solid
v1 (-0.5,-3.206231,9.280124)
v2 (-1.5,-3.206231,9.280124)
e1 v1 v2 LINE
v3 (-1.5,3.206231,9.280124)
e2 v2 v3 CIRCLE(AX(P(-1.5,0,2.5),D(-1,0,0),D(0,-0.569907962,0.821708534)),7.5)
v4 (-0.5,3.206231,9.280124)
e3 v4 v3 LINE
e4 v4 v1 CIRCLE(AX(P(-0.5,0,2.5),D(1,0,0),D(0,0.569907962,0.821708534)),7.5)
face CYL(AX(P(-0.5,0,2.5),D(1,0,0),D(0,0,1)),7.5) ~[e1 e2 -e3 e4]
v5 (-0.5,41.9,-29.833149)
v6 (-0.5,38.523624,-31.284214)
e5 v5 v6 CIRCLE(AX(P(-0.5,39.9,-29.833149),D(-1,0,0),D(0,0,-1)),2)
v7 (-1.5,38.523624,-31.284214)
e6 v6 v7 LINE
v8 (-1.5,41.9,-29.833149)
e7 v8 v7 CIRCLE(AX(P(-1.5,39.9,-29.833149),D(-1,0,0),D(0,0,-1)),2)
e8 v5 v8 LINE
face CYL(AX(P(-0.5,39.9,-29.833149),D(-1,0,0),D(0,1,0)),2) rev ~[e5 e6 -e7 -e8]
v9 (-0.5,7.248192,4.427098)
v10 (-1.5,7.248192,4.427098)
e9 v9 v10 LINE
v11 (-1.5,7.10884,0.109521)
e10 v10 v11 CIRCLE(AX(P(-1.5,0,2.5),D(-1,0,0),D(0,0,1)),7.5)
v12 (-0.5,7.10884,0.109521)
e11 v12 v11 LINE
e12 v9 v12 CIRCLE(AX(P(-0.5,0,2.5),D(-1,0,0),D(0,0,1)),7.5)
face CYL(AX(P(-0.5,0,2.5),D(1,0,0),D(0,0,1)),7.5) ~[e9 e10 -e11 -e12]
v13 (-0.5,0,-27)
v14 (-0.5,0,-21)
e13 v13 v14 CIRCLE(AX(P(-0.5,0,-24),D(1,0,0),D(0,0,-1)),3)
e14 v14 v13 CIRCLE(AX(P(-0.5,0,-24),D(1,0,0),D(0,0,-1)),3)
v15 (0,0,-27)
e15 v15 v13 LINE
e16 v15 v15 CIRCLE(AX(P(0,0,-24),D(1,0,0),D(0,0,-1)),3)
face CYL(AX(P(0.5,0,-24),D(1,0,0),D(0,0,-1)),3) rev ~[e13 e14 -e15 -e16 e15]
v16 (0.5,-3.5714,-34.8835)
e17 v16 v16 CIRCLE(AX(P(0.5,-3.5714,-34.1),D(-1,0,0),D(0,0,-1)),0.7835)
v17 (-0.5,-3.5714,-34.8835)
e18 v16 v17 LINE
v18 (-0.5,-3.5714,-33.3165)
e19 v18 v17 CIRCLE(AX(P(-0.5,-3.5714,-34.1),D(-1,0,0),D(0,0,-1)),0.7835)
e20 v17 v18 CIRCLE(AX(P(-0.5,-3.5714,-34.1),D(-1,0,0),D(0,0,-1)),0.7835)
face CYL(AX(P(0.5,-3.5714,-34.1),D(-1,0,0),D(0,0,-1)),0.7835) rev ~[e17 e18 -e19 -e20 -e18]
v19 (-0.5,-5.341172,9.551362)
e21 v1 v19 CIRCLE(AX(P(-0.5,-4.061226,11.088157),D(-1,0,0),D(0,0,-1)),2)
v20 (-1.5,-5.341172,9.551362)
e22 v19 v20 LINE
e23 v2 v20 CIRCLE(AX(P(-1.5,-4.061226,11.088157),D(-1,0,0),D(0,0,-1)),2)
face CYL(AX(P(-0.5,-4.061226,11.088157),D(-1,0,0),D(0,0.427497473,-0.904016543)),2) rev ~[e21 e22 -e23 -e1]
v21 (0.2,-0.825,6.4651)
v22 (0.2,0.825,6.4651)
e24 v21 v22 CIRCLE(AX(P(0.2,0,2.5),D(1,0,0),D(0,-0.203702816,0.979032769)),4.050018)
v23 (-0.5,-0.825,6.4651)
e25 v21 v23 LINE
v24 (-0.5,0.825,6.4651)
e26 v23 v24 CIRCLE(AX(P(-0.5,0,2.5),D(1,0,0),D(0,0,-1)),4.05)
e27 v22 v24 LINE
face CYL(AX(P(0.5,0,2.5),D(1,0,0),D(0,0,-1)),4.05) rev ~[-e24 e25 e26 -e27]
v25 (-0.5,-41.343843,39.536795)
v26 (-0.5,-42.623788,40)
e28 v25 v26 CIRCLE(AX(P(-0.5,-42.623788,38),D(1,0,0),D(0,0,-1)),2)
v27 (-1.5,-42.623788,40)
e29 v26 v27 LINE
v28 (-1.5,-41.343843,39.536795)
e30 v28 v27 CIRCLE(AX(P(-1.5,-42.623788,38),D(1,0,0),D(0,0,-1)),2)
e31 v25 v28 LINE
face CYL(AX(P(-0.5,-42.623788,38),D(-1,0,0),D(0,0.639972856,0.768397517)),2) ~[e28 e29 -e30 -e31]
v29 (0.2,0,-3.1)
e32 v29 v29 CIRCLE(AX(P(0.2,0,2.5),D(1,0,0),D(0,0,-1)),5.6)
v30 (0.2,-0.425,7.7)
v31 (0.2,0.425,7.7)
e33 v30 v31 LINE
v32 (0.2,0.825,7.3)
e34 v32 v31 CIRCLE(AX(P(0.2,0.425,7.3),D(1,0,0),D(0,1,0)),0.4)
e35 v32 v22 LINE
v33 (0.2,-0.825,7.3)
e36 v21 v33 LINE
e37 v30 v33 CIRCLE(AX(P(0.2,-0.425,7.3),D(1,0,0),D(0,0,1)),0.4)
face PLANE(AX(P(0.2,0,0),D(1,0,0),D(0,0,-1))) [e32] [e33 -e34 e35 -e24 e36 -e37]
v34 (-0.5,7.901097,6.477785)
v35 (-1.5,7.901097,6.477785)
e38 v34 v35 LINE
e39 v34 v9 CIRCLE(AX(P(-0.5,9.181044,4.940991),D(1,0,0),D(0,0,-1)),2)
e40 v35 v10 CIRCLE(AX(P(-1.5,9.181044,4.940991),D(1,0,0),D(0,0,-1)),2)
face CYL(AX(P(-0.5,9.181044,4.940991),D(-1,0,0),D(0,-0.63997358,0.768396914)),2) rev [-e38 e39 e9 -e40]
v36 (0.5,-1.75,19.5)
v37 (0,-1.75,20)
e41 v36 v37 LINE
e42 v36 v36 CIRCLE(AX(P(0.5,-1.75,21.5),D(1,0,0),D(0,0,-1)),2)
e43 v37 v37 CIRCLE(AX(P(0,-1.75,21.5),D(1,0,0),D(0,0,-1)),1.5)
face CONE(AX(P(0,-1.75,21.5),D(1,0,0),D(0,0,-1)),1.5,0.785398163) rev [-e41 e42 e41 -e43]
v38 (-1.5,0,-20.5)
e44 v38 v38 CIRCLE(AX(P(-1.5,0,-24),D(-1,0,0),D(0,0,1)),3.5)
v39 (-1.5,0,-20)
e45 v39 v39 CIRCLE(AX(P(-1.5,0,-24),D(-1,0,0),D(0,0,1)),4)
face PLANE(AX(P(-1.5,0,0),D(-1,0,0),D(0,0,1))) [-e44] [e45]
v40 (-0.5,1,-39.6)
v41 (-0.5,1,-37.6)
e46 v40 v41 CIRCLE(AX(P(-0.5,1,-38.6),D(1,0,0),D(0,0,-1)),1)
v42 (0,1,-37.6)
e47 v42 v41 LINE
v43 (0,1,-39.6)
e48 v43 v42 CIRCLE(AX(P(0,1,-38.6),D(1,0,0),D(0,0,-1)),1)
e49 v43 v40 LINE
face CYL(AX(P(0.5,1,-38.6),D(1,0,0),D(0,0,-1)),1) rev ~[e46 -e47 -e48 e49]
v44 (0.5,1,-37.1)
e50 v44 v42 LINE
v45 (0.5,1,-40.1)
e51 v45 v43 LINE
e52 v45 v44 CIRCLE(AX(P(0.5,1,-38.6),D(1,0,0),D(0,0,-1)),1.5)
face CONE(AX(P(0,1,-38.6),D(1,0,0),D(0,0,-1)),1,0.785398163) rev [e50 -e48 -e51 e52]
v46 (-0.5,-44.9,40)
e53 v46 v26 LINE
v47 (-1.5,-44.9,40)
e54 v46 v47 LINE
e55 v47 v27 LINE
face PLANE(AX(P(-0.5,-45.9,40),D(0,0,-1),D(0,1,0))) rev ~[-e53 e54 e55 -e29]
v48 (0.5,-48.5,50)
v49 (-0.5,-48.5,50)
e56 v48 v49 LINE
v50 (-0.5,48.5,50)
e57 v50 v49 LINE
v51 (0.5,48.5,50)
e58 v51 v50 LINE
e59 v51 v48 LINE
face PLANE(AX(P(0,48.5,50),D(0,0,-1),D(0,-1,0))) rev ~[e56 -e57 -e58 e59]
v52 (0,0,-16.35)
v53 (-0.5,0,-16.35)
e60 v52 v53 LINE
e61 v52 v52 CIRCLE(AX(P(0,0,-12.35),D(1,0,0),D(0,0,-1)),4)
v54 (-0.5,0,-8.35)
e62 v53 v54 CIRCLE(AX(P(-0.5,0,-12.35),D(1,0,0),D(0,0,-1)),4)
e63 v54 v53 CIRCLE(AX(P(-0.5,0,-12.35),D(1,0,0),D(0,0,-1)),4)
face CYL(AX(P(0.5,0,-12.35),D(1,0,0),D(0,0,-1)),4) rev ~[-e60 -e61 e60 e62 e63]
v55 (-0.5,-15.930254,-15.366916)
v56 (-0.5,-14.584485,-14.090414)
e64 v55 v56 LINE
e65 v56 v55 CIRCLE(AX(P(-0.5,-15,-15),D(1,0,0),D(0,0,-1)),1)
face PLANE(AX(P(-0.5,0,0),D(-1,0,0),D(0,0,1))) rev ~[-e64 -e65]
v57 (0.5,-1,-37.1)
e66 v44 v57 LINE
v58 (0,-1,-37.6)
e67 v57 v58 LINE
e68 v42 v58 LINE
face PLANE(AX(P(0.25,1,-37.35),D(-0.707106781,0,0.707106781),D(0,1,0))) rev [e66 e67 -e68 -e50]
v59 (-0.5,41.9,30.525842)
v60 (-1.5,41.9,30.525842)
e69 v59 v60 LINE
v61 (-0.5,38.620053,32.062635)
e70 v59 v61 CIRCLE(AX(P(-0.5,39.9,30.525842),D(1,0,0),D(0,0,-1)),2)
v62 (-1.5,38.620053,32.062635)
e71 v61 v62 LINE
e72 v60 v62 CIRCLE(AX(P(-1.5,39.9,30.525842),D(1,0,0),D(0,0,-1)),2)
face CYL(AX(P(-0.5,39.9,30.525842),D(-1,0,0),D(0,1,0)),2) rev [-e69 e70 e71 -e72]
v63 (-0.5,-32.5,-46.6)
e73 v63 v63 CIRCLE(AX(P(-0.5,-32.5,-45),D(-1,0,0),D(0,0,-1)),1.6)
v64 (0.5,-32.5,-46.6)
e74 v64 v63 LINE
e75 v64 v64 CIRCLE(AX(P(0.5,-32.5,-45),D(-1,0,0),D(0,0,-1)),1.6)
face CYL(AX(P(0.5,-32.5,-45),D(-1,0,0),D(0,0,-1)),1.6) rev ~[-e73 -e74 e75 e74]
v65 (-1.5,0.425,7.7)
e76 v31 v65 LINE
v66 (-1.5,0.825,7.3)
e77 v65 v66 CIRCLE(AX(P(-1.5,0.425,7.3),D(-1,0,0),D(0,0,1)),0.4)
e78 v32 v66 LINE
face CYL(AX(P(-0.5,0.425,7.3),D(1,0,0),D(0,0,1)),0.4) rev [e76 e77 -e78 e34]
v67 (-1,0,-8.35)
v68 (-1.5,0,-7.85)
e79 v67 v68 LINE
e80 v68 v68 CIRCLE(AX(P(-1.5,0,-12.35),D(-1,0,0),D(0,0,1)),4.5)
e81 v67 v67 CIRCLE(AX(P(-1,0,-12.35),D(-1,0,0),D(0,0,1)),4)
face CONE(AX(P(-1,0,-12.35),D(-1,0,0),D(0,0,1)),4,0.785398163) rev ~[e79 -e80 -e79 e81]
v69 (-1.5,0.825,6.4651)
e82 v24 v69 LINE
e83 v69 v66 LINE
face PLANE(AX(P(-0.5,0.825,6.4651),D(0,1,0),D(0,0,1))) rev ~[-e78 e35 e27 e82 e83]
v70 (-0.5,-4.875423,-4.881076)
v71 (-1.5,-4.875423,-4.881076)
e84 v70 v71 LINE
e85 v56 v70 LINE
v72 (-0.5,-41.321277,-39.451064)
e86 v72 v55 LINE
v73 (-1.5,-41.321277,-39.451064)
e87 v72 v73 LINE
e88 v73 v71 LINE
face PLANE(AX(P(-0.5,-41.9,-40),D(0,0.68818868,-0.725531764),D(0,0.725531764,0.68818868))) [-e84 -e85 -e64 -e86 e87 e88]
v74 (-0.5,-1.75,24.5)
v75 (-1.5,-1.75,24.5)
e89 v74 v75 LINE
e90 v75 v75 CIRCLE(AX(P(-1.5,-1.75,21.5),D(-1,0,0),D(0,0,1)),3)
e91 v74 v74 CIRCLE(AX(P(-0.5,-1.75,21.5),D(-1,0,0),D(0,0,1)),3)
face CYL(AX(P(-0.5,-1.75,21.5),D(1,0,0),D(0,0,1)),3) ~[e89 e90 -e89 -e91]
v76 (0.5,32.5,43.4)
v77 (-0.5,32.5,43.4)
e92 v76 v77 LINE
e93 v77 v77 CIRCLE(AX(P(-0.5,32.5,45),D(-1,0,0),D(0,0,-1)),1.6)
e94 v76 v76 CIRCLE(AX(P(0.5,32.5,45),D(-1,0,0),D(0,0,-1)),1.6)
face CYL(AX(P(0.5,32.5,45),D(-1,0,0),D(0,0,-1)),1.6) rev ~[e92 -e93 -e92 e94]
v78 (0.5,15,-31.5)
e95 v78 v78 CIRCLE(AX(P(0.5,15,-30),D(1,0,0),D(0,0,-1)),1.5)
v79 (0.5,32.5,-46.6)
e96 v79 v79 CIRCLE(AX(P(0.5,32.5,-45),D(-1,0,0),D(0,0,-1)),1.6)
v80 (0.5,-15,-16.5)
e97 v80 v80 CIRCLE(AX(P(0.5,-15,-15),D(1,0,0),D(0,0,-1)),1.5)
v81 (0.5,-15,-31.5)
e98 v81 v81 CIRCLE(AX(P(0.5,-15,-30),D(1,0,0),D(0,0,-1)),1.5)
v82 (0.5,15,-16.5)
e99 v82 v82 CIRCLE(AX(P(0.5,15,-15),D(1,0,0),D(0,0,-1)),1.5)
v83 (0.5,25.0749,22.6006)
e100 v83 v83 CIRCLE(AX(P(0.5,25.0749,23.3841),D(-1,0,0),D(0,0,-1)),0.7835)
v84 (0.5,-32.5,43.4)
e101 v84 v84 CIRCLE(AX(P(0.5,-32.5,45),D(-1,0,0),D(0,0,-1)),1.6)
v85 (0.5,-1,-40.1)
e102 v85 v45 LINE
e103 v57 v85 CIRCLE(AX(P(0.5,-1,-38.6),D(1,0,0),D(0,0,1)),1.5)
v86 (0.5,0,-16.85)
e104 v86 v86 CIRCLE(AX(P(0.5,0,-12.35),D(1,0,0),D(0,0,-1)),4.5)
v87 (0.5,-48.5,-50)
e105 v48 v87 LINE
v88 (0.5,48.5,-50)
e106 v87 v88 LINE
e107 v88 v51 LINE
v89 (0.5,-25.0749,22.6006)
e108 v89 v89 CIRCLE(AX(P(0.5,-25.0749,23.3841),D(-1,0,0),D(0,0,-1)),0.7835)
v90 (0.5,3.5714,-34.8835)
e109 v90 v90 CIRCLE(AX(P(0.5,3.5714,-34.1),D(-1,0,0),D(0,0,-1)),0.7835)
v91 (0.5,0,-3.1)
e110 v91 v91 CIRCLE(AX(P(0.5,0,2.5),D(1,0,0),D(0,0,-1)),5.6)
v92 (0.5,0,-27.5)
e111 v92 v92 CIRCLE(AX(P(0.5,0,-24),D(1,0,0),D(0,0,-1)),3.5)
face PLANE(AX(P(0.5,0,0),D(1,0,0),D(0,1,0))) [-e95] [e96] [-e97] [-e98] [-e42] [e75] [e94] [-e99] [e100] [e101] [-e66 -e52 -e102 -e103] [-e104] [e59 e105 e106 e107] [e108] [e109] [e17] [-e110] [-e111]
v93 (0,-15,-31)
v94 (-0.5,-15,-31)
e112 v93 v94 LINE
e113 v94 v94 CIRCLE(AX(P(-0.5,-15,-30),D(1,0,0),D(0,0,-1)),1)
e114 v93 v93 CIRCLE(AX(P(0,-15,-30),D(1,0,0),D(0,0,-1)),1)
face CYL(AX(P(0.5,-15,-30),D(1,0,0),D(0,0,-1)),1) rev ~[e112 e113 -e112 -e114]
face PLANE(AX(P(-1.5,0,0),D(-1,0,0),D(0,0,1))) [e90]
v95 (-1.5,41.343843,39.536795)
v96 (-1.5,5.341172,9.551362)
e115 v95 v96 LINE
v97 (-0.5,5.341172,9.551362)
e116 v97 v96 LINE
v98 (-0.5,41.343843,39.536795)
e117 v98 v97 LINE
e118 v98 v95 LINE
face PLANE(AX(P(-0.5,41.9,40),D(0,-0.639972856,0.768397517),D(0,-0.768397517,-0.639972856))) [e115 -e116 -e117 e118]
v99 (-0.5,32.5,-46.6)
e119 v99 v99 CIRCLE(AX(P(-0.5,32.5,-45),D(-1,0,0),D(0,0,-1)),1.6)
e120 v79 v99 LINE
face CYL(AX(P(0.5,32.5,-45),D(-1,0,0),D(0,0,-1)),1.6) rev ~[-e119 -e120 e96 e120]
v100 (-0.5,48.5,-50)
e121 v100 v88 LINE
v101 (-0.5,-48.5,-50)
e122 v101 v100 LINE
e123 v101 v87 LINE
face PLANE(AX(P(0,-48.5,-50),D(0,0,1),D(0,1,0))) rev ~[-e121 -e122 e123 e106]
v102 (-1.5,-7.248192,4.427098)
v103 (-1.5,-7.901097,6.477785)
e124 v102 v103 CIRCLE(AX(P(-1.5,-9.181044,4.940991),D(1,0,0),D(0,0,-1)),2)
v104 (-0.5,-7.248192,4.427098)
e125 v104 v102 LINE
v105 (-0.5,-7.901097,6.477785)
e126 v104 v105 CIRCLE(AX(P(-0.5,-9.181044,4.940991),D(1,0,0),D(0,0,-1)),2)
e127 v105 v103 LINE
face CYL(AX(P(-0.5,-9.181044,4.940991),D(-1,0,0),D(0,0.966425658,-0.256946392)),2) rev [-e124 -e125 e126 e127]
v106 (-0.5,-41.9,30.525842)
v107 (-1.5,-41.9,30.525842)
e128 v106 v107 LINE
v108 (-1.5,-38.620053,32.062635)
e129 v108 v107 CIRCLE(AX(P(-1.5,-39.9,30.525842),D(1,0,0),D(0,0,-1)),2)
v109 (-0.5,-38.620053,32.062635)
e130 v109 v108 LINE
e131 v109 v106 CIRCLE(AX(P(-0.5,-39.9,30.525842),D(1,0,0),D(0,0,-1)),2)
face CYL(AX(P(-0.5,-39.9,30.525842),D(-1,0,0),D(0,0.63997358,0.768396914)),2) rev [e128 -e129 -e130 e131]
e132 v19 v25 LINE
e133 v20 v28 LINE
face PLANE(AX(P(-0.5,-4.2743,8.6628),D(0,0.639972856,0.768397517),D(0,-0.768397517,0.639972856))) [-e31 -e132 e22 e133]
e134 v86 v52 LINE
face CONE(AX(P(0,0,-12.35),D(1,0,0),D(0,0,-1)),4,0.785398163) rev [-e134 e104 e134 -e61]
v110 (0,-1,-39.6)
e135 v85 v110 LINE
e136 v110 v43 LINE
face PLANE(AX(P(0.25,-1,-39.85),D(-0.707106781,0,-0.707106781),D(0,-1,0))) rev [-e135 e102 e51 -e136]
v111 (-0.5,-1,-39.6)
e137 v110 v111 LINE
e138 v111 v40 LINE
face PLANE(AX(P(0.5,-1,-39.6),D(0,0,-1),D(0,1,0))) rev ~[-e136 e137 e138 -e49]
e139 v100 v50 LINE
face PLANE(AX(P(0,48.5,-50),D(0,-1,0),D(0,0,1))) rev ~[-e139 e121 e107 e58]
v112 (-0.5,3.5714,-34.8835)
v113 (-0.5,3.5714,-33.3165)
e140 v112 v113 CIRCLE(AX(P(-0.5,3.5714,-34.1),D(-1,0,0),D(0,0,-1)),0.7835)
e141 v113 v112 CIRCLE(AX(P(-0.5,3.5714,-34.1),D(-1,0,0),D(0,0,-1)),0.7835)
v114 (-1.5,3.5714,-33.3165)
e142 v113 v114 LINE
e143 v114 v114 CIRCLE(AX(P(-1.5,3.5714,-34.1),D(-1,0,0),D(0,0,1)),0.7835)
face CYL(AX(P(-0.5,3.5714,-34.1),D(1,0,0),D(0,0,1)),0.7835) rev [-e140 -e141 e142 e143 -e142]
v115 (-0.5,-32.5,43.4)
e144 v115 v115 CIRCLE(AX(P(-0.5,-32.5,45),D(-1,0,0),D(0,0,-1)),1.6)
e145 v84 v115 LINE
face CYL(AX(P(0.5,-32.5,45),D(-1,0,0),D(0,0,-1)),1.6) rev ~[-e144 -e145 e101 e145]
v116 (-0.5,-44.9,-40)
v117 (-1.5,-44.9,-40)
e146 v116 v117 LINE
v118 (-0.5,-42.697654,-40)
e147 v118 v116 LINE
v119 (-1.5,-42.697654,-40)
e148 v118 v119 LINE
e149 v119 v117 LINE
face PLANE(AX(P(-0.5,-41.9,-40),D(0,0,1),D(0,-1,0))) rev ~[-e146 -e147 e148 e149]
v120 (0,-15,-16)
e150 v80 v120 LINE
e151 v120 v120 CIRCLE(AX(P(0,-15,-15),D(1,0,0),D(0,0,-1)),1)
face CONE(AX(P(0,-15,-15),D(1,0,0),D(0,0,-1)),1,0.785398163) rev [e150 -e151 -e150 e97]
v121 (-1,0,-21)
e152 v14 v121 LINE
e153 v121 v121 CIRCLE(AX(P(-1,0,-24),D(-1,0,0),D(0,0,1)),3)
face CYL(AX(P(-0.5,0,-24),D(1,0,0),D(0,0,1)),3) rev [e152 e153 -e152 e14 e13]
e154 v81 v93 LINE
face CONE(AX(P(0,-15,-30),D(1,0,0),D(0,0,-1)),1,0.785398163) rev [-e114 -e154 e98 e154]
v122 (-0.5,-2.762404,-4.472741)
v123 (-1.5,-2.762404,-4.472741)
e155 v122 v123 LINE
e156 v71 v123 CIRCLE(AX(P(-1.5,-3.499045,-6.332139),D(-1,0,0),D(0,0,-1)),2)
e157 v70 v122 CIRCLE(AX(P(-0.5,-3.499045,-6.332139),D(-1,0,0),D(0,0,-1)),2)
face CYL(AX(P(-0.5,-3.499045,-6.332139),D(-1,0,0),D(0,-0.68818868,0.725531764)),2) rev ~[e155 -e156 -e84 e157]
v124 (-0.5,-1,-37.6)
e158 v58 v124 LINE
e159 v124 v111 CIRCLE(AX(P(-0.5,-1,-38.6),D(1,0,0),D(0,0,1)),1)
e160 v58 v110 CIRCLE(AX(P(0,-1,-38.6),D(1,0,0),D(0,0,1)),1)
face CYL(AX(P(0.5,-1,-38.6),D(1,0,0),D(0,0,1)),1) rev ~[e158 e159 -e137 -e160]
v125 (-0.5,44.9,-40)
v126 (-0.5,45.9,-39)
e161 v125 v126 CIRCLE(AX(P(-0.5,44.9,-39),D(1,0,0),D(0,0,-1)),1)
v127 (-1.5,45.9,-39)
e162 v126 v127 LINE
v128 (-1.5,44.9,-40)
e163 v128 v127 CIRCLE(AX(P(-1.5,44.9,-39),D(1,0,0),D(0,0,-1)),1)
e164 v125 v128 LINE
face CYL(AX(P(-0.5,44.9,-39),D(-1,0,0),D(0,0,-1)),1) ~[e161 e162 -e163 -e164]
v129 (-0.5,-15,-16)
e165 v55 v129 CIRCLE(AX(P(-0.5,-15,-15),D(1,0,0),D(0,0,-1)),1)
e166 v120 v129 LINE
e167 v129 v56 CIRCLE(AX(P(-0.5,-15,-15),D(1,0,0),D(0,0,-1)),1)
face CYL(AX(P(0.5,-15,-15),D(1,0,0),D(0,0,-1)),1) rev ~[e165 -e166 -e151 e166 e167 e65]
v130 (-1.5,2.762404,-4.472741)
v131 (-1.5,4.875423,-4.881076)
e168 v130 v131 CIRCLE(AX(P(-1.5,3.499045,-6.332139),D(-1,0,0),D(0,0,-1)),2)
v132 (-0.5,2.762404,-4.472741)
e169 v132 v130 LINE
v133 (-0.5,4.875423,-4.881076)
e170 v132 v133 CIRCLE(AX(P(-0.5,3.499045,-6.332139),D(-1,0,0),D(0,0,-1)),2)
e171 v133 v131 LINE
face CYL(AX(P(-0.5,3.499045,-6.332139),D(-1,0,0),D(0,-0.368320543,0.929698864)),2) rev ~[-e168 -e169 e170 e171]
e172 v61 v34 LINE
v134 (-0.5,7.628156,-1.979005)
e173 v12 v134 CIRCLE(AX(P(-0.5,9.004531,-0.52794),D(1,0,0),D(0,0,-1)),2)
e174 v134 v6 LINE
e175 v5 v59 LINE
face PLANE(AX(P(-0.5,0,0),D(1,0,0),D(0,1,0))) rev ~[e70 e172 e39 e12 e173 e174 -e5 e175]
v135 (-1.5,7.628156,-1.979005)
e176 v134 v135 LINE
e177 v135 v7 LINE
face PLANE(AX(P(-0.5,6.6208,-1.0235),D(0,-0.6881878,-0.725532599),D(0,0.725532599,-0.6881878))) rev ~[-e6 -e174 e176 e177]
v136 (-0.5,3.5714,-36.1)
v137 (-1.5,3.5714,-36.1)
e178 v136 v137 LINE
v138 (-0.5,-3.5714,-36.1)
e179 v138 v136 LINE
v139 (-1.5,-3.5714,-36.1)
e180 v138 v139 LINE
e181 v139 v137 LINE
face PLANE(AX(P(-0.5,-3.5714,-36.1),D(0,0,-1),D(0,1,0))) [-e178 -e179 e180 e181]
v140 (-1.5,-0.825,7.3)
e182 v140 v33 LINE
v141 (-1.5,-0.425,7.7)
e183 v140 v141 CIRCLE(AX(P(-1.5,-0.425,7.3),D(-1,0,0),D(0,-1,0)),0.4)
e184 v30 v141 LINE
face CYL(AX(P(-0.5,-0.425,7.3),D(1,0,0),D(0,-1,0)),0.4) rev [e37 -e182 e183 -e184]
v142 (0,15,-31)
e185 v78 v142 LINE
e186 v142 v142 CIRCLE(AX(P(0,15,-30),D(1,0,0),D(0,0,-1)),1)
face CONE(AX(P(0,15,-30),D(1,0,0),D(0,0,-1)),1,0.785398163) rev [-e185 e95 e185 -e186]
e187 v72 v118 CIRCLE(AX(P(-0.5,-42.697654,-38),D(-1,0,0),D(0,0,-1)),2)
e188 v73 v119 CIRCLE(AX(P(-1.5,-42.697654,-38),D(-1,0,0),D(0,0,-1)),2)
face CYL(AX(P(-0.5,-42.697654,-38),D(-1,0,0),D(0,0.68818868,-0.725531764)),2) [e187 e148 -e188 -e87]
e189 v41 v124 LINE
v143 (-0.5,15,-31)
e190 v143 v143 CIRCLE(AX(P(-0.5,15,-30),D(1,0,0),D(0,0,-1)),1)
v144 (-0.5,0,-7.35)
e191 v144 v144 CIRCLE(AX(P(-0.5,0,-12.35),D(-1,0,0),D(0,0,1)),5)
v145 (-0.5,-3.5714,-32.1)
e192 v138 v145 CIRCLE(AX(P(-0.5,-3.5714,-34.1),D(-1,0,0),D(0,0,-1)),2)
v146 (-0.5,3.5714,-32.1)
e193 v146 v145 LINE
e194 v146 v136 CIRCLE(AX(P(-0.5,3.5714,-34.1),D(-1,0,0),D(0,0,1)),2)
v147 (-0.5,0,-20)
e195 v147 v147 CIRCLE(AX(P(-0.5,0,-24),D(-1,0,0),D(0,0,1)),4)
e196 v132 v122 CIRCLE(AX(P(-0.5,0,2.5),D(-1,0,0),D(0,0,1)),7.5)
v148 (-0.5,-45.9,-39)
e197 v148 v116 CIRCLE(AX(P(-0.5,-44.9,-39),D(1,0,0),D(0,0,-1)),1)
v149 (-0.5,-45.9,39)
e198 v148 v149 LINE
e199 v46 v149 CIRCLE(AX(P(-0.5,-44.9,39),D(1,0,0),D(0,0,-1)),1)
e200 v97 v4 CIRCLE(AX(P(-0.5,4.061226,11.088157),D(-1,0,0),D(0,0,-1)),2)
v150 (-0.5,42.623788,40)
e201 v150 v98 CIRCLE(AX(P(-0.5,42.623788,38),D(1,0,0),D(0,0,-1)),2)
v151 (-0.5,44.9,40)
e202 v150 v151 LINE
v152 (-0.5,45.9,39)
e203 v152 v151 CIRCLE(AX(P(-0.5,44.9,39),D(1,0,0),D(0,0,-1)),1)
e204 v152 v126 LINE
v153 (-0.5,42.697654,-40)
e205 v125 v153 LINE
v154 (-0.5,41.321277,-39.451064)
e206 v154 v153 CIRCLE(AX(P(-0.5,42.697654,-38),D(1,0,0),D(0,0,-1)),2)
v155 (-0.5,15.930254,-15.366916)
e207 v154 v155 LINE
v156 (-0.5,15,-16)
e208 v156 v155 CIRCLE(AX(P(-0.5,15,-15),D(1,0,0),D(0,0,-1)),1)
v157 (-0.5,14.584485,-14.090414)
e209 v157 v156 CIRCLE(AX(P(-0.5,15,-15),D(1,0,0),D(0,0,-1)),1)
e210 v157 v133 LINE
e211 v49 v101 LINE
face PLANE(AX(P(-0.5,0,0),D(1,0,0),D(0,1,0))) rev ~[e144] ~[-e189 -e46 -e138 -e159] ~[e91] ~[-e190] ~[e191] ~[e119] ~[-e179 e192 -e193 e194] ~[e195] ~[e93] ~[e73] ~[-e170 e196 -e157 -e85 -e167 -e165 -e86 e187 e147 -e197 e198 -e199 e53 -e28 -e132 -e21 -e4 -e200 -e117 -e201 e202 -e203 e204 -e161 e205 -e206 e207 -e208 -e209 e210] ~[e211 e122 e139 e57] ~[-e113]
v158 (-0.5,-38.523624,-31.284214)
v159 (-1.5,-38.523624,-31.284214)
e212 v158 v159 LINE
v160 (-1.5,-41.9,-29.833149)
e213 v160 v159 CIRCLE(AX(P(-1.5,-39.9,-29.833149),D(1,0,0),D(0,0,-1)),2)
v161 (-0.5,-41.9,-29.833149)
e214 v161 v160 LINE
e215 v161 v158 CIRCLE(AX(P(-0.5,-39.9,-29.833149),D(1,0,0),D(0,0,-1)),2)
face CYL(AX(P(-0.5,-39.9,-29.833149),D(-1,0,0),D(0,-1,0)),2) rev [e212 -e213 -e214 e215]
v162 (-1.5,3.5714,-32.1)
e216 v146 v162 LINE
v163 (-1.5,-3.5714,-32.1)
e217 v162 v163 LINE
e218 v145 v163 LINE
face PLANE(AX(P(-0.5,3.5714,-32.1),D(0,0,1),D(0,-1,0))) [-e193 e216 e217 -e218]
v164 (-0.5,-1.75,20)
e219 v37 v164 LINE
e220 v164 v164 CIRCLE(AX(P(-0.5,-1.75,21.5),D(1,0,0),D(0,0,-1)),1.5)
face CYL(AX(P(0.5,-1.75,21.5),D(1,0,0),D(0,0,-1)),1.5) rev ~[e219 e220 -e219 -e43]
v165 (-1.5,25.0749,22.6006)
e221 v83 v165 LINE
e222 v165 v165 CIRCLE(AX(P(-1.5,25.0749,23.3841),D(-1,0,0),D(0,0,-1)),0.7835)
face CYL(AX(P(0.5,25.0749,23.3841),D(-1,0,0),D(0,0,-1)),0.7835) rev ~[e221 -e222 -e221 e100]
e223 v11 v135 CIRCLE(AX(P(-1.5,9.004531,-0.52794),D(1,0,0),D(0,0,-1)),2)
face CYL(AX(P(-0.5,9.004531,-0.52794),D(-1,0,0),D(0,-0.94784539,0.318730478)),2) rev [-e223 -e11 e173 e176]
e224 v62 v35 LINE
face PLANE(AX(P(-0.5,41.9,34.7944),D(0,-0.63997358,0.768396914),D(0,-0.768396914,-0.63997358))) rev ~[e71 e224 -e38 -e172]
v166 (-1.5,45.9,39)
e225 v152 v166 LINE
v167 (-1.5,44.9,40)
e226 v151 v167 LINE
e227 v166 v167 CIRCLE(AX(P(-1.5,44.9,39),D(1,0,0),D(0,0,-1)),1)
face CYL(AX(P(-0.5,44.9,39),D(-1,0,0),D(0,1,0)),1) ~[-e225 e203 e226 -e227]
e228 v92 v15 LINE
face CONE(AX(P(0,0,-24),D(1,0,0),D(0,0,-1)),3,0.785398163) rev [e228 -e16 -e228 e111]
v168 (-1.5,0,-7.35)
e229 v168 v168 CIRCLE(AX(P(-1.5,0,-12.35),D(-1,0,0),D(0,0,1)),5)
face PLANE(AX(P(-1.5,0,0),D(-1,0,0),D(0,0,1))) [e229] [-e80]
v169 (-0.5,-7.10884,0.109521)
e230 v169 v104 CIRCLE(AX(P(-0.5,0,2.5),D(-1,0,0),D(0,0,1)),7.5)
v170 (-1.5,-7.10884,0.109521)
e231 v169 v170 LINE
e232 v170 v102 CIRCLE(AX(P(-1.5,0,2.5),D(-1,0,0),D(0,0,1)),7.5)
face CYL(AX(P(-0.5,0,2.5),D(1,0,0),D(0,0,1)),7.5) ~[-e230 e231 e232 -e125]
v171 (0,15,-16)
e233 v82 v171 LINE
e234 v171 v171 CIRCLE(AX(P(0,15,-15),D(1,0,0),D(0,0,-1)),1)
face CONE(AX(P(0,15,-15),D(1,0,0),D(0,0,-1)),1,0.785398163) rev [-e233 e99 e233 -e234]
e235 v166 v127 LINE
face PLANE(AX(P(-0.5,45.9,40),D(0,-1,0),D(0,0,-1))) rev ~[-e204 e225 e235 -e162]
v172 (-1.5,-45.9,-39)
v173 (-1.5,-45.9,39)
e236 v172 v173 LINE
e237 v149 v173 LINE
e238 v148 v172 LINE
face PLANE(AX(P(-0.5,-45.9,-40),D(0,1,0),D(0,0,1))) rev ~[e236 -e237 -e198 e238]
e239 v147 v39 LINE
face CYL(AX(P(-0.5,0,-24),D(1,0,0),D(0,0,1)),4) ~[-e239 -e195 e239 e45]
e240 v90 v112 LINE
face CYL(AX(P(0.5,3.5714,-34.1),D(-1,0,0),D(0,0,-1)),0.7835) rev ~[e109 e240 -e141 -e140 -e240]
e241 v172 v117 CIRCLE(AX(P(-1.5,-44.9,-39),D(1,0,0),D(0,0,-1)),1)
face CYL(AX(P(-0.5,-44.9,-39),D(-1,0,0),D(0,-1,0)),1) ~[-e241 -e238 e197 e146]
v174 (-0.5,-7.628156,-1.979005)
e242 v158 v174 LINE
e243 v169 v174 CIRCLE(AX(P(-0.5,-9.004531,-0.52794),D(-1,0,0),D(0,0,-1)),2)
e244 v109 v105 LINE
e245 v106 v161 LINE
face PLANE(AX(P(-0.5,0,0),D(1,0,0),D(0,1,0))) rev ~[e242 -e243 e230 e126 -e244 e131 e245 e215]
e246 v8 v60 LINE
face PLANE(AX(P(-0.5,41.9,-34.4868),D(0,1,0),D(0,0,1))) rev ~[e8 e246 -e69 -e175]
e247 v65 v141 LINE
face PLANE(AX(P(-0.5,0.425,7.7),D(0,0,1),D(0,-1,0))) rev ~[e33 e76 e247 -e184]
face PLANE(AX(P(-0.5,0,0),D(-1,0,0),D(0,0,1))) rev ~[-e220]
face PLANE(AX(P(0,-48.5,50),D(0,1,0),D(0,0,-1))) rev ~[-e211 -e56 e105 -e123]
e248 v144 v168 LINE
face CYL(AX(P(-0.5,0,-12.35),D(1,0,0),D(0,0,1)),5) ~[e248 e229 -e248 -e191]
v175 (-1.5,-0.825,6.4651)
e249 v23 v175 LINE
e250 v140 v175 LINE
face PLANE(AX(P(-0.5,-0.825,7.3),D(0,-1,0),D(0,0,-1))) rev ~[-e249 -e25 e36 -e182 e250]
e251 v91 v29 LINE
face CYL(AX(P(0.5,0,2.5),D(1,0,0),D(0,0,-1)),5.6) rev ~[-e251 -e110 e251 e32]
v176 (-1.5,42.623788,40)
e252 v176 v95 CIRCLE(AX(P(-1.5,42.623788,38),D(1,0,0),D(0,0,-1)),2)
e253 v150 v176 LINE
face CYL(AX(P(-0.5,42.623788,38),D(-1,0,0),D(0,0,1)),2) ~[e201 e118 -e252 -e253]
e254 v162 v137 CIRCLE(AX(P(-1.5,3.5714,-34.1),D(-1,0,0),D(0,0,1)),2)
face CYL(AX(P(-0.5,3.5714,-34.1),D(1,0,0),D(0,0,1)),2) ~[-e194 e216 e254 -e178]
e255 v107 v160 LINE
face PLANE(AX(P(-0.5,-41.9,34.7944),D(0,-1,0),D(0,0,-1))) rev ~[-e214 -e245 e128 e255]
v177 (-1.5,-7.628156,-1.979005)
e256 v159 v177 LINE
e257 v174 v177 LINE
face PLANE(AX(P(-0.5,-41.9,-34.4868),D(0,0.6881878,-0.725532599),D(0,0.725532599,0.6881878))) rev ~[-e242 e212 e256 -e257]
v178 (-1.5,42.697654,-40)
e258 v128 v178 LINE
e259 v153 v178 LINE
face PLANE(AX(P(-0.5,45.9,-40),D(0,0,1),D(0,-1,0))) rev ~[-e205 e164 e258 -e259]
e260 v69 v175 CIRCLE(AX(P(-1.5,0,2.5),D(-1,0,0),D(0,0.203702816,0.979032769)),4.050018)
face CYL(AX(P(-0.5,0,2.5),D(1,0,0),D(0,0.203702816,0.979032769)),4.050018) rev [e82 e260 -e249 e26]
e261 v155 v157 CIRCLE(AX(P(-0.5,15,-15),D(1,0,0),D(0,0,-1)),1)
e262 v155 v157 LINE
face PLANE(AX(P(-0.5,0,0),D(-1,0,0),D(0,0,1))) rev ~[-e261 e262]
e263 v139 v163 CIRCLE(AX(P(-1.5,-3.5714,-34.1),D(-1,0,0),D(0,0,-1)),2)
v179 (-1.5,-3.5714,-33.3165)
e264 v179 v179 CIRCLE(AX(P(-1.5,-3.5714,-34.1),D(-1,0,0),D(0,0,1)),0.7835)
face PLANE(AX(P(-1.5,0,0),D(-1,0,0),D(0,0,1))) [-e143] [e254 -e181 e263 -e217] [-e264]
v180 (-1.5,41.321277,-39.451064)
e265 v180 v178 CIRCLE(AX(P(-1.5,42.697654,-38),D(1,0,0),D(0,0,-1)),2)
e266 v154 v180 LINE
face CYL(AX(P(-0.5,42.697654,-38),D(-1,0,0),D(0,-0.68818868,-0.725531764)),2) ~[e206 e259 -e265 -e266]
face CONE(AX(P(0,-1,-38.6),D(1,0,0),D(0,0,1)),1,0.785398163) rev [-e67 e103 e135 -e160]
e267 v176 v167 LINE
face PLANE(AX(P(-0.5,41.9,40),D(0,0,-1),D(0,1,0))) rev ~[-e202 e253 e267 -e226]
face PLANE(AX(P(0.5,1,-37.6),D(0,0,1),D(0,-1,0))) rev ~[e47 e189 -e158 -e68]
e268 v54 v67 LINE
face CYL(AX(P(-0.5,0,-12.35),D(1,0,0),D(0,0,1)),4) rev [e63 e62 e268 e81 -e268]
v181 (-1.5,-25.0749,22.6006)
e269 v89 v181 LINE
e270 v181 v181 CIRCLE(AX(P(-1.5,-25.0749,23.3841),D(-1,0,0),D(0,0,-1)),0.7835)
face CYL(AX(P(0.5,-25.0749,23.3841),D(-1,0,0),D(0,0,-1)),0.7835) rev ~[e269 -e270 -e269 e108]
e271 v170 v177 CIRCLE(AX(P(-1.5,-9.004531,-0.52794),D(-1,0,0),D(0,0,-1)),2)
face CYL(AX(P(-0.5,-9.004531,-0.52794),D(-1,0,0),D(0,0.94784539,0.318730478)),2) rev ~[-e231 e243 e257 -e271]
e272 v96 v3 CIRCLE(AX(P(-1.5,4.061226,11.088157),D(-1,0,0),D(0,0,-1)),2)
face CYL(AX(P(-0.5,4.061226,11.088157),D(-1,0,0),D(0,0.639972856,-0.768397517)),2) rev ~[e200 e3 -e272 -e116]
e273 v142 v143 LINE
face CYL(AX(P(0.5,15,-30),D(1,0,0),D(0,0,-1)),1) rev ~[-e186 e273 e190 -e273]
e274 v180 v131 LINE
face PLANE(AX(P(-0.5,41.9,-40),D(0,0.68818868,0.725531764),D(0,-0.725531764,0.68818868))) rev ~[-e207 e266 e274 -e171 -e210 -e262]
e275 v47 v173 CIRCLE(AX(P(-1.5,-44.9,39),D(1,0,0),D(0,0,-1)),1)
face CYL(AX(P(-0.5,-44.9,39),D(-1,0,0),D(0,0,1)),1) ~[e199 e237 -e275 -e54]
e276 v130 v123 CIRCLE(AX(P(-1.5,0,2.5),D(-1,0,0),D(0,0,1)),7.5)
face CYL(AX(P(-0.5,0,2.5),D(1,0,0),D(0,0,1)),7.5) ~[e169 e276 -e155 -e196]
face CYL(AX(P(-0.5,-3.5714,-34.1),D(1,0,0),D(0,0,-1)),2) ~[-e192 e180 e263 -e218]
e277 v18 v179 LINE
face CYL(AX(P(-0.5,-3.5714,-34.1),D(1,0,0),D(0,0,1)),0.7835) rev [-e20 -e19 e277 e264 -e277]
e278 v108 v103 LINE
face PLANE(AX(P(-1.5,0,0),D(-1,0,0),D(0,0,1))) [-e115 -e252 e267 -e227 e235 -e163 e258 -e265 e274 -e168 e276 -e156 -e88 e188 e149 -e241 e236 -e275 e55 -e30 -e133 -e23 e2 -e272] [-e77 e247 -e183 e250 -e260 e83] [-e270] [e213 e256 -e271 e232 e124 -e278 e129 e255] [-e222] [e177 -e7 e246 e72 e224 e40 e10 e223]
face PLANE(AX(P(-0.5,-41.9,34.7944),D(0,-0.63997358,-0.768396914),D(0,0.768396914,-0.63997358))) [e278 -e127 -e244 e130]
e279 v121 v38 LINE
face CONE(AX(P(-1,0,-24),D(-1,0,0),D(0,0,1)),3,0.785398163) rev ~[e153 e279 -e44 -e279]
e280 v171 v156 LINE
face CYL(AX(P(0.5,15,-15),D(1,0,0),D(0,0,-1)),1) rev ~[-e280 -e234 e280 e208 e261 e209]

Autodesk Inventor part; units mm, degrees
ref_plane "YZ Plane" through (0, 0, 0) normal (1, 0, 0) x (0, 1, 0)
ref_plane "XZ Plane" through (0, 0, 0) normal (0, 1, 0) x (-1, 0, 0)
ref_plane "XY Plane" through (0, 0, 0) normal (0, 0, 1) x (1, 0, 0)
sketch "Sketch1" plane through (0, 0, 0) normal (1, 0, 0) x (0, 1, 0)
  line L0 (-48.5, -50) -> (48.5, -50)
  line L1 (48.5, -50) -> (48.5, 50)
  line L2 (48.5, 50) -> (-48.5, 50)
  line L3 (-48.5, 50) -> (-48.5, -50)
  line L4 (-48.5, -50) -> (48.5, 50) construction
  line L5 (48.5, -50) -> (-48.5, 50) construction
  point P0 (0, 0)
  dimension "d0" = 97
  dimension "d1" = 100
extrude "Extrusion1" add sketch "Sketch1" along normal mid plane 1
sketch "Sketch2" plane through (0.5, 0, 0) normal (1, 0, 0) x (0, 0, -1)
  line L0 (45, -32.5) -> (-45, -32.5) construction
  line L1 (-45, -32.5) -> (-45, 32.5) construction
  line L2 (-45, 32.5) -> (45, 32.5) construction
  line L3 (45, 32.5) -> (45, -32.5) construction
  line L4 (45, -32.5) -> (-45, 32.5) construction
  line L5 (-45, -32.5) -> (45, 32.5) construction
  point P0 (0, 0)
  dimension "d5" = 90
  dimension "d6" = 65
hole "Hole1" at (0.5, -32.5, 45) at (0.5, 32.5, 45) at (0.5, 32.5, -45) at (0.5, -32.5, -45) direction (-1, 0, 0) diameter 3.2 end through all clearance for "Socket Head Cap Screw" size "M3" standard "Ansi Metric M Profile"
sketch "Sketch3" plane through (0.5, 0, 0) normal (1, 0, 0) x (0, 0, -1)
  circle A0 centre (-2.5, 0) radius 4.05
  line L0 (-6.4651, -0.825) -> (-7.3, -0.825)
  line L1 (-7.7, -0.425) -> (-7.7, 0.425)
  line L2 (-7.3, 0.825) -> (-6.4651, 0.825)
  line L3 (-6.4651, 0.825) -> (-6.4651, -0.825)
  circle A1 centre (12.35, 0) radius 4
  line L4 (-7.5, -0.75) -> (-6.4651, -0.75) construction
  line L5 (-6.4651, -0.75) -> (-6.4651, 0.75) construction
  line L6 (-6.4651, 0.75) -> (-7.5, 0.75) construction
  line L7 (-7.5, 0.75) -> (-7.5, -0.75) construction
  arc A2 (-7.7, -0.425) -> (-7.3, -0.825) centre (-7.3, -0.425) ccw
  arc A3 (-7.3, 0.825) -> (-7.7, 0.425) centre (-7.3, 0.425) ccw
  circle A4 centre (-2.5, 0) radius 5.5 construction
  circle A5 centre (24, 0) radius 3
  circle A6 centre (-21.5, -1.75) radius 1.5
  line L8 (38.6, -1) -> (38.6, 1) construction
  line L9 (39.6, -1) -> (39.6, 1)
  line L10 (37.6, 1) -> (37.6, -1)
  arc A7 (37.6, -1) -> (39.6, -1) centre (38.6, -1) ccw
  arc A8 (39.6, 1) -> (37.6, 1) centre (38.6, 1) ccw
  line L11 (15, -15) -> (30, -15) construction
  line L12 (30, -15) -> (30, 15) construction
  line L13 (30, 15) -> (15, 15) construction
  line L14 (15, 15) -> (15, -15) construction
  circle A9 centre (15, -15) radius 1
  circle A10 centre (15, 15) radius 1
  circle A11 centre (30, 15) radius 1
  circle A12 centre (30, -15) radius 1
  point P0 (0, 0)
  point P1 (-7.7, 0.825)
  point P2 (-7.7, -0.825)
  point P3 (-7.5, 0)
  point P4 (38.6, 0)
  point P5 (15, 0)
  dimension "d14" = 2.5
  dimension "d15" = 8.1
  dimension "d16" = 1.65
  dimension "d17" = 5.2
  dimension "d18" = 12.35
  dimension "d19" = 8
  dimension "d26" = 5
  dimension "d27" = 1.5
  dimension "d28" = 0.4
  dimension "d29" = 11
  dimension "d43" = 6
  dimension "d44" = 26.5
  dimension "d48" = 1.75
  dimension "d49" = 21.5
  dimension "d50" = 3
  dimension "d51" = 38.6
  dimension "d52" = 2
  dimension "d53" = 2
  dimension "d83" = 15
  dimension "d84" = 30
  dimension "d85" = 15
  dimension "d86" = 2
extrude "Extrusion2" cut sketch "Sketch3" against normal through all
sketch "Sketch4" plane through (0.5, 0, 0) normal (1, 0, 0) x (0, 0, -1)
  circle A0 centre (12.35, 0) radius 4 projected
  arc A1 (-6.4651, -0.825) -> (-6.4651, 0.825) centre (-2.5, 0) ccw projected
  line L0 (-6.4651, -0.825) -> (-7.3, -0.825) projected
  line L1 (-7.7, -0.425) -> (-7.7, 0.425) projected
  line L2 (-7.3, 0.825) -> (-6.4651, 0.825) projected
  circle A2 centre (45, 32.5) radius 1.6 projected
  circle A3 centre (-45, -32.5) radius 1.6 projected
  circle A4 centre (-45, 32.5) radius 1.6 projected
  circle A5 centre (45, -32.5) radius 1.6 projected
  line L3 (50, -48.5) -> (50, 48.5) projected
  line L4 (50, 48.5) -> (-50, 48.5) projected
  line L5 (-50, 48.5) -> (-50, -48.5) projected
  line L6 (-50, -48.5) -> (50, -48.5) projected
  circle A6 centre (-2.5, 0) radius 5.6
  arc A7 (-7.7, -0.425) -> (-7.3, -0.825) centre (-7.3, -0.425) ccw projected
  arc A8 (-7.3, 0.825) -> (-7.7, 0.425) centre (-7.3, 0.425) ccw projected
  point P0 (0, 0)
  dimension "d22" = 11.2
extrude "Extrusion3" cut sketch "Sketch4" against normal blind 0.3 contours A6
sketch "Sketch8" plane through (0.5, 0, 0) normal (1, 0, 0) x (0, 0, -1)
  line L0 (34.1, -3.5714) -> (34.1, 3.5714) construction
  arc A0 (39.6, 1) -> (37.6, 1) centre (38.6, 1) ccw projected
  circle A1 centre (0, 0) radius 39 construction
  line L1 (38.6, 5.5714) -> (38.6, 5.5714) construction
  point P0 (34.1, 0)
  dimension "d55" = 4.5
  dimension "d87" = 78
  dimension "d88" = 2
hole "Hole2" at (0.5, -3.5714, -34.1) at (0.5, 3.5714, -34.1) direction (-1, 0, 0) diameter 1.567 end through all thread size "M2x0.4" class "6H" standard "ANSI Metric M Profile"
sketch "Sketch5" plane through (-0.5, 0, 0) normal (-1, 0, 0) x (0, 0, 1)
  circle A0 centre (-12.35, 0) radius 4 projected
  arc A1 (6.4651, 0.825) -> (6.4651, -0.825) centre (2.5, 0) ccw projected
  line L0 (6.4651, 0.825) -> (7.3, 0.825) projected
  arc A2 (7.7, 0.425) -> (7.3, 0.825) centre (7.3, 0.425) ccw projected
  line L1 (7.7, 0.425) -> (7.7, -0.425) projected
  arc A3 (7.3, -0.825) -> (7.7, -0.425) centre (7.3, -0.425) ccw projected
  line L2 (7.3, -0.825) -> (6.4651, -0.825) projected
  circle A4 centre (-45, 32.5) radius 1.6 projected
  circle A5 centre (45, -32.5) radius 1.6 projected
  circle A6 centre (45, 32.5) radius 1.6 projected
  circle A7 centre (-45, -32.5) radius 1.6 projected
  line L3 (-50, 48.5) -> (-50, -48.5) projected
  line L4 (-50, -48.5) -> (50, -48.5) projected
  line L5 (50, -48.5) -> (50, 48.5) projected
  line L6 (50, 48.5) -> (-50, 48.5) projected
  line L7 (40, 45.9) -> (-40, 45.9)
  line L8 (-40, 45.9) -> (-40, 41.9)
  line L9 (-40, 41.9) -> (40, 41.9)
  line L10 (40, 41.9) -> (40, 45.9)
  line L11 (-40, -45.9) -> (40, -45.9)
  line L12 (40, -45.9) -> (40, -41.9)
  line L13 (40, -41.9) -> (-40, -41.9)
  line L14 (-40, -41.9) -> (-40, -45.9)
  line L15 (50, -48.5) -> (50, 48.5) construction
  line L16 (50, 0) -> (-50, 0) construction
  line L17 (-50, -48.5) -> (-50, 48.5) construction
  circle A8 centre (2.5, 0) radius 7.5
  line L18 (40, 41.9) -> (8.6628, 4.2743)
  line L19 (8.6628, -4.2743) -> (40, -41.9)
  line L20 (-40, -41.9) -> (-3.9256, -3.8681)
  line L21 (-40, 41.9) -> (-3.9256, 3.8681)
  line L22 (-1.0235, 6.6208) -> (-34.4868, 41.9)
  line L23 (-34.4868, -41.9) -> (-1.0235, -6.6208)
  line L24 (34.7944, 41.9) -> (5.5892, 6.8342)
  circle A9 centre (2.5, 0) radius 5.6 projected
  line L25 (2.5, 0) -> (37.3972, 41.9) construction
  line L26 (2.5, 0) -> (-37.2434, 41.9) construction
  line L27 (34.7944, -41.9) -> (5.5892, -6.8342)
  circle A10 centre (-24, 0) radius 3 projected
  circle A11 centre (-12.35, 0) radius 5
  circle A12 centre (-24, 0) radius 4
  circle A13 centre (-34.1, -3.5714) radius 0.7835 projected
  circle A14 centre (-34.1, 3.5714) radius 0.7835 projected
  circle A15 centre (-12.35, 0) radius 4 projected
  arc A16 (-37.6, 1) -> (-39.6, 1) centre (-38.6, 1) ccw projected
  line L28 (-37.6, 1) -> (-37.6, -1) projected
  arc A17 (-39.6, -1) -> (-37.6, -1) centre (-38.6, -1) ccw projected
  line L29 (-39.6, -1) -> (-39.6, 1) projected
  arc A18 (6.4651, 0.825) -> (6.4651, -0.825) centre (2.5, 0) ccw projected
  line L30 (6.4651, 0.825) -> (7.3, 0.825) projected
  arc A19 (7.7, 0.425) -> (7.3, 0.825) centre (7.3, 0.425) ccw projected
  line L31 (7.7, 0.425) -> (7.7, -0.425) projected
  arc A20 (7.3, -0.825) -> (7.7, -0.425) centre (7.3, -0.425) ccw projected
  line L32 (7.3, -0.825) -> (6.4651, -0.825) projected
  circle A21 centre (21.5, -1.75) radius 1.5 projected
  circle A22 centre (-24, 0) radius 3 projected
  circle A23 centre (-45, 32.5) radius 1.6 projected
  circle A24 centre (45, -32.5) radius 1.6 projected
  circle A25 centre (45, 32.5) radius 1.6 projected
  circle A26 centre (-45, -32.5) radius 1.6 projected
  line L33 (-50, 48.5) -> (-50, -48.5) projected
  line L34 (-50, -48.5) -> (50, -48.5) projected
  line L35 (50, -48.5) -> (50, 48.5) projected
  line L36 (50, 48.5) -> (-50, 48.5) projected
  line L37 (-32.1, 3.5714) -> (-32.1, -3.5714)
  arc A27 (-36.1, -3.5714) -> (-32.1, -3.5714) centre (-34.1, -3.5714) ccw
  line L38 (-36.1, -3.5714) -> (-36.1, 3.5714)
  arc A28 (-32.1, 3.5714) -> (-36.1, 3.5714) centre (-34.1, 3.5714) ccw
  circle A29 centre (-34.1, 3.5714) radius 0.7835 projected
  circle A30 centre (21.5, -1.75) radius 1.5 projected
  circle A31 centre (21.5, -1.75) radius 3
  point P0 (0, 0)
  point P1 (0, 41.9)
  point P2 (0, 0)
  dimension "d36" = 15
  dimension "d33" = 45.9
  dimension "d34" = 4
  dimension "d35" = 80
  dimension "d37" = 4
  dimension "d38" = 4
  dimension "d45" = 10
  dimension "d46" = 8
  dimension "d47" = 2.35
  dimension "d67" = 2
  dimension "d70" = 6
extrude "Extrusion4" add sketch "Sketch5" along normal blind 1 contours L10 L9 L8 L7 | L18 A8 L24 L9 | L9 L22 A8 L21 | A8 | A8 L23 L13 L20 | L19 L13 L27 A8 | L13 L12 L11 L14 | A9 | A11 | A12 | A21 | L37 A27 L38 A28 | A31
chamfer "Chamfer1" distance 0.5 angle 45 13 edges at (0.5, 0, -8.35) (-1.5, 0, -16.35) (-1.5, 0, -27) (0.5, 0, -21) (0.5, 0, -37.6) (0.5, 2, -38.6) (0.5, 0, -39.6) (0.5, -2, -38.6) (0.5, -1.75, 23) (0.5, 15, -14) (0.5, 15, -29) (0.5, -15, -29) (0.5, -15, -14)
fillet "Fillet3" radius 2 16 edges at (-1, 41.9, 40) (-1, 41.9, 34.7944) (-1, 41.9, -40) (-1, 41.9, -34.4868) (-1, 6.8342, 5.5892) (-1, 6.6208, -1.0235) (-1, 4.2743, 8.6628) (-1, -4.2743, 8.6628) (-1, -41.9, 40) (-1, -41.9, 34.7944) (-1, -6.8342, 5.5892) (-1, -6.6208, -1.0235) (-1, 3.8681, -3.9256) (-1, -3.8681, -3.9256) (-1, -41.9, -40) (-1, -41.9, -34.4868)
fillet "Fillet3" radius 1 4 edges at (-1, -45.9, -40) (-1, -45.9, 40) (-1, 45.9, -40) (-1, 45.9, 40)
sketch "Sketch10" plane through (0.5, 0, 0) normal (1, 0, 0) x (0, 0, -1)
  line L0 (-2.5, 0) -> (-37.3972, 41.9) projected
  circle A0 centre (34.1, -3.5714) radius 0.7835 projected
  line L1 (-23.3841, 25.0749) -> (-23.3841, -25.0749) construction
  circle A1 centre (0, 0) radius 34.2865 construction
hole "Hole3" at (0.5, -25.0749, 23.3841) at (0.5, 25.0749, 23.3841) direction (-1, 0, 0) diameter 1.567 end through all thread size "M2x0.4" class "6H" standard "ANSI Metric M Profile"
equation "\"d37\" = d34"
equation "\"d38\" = d34"
properties part number "Structure_+X" material "Aluminum 6061"
